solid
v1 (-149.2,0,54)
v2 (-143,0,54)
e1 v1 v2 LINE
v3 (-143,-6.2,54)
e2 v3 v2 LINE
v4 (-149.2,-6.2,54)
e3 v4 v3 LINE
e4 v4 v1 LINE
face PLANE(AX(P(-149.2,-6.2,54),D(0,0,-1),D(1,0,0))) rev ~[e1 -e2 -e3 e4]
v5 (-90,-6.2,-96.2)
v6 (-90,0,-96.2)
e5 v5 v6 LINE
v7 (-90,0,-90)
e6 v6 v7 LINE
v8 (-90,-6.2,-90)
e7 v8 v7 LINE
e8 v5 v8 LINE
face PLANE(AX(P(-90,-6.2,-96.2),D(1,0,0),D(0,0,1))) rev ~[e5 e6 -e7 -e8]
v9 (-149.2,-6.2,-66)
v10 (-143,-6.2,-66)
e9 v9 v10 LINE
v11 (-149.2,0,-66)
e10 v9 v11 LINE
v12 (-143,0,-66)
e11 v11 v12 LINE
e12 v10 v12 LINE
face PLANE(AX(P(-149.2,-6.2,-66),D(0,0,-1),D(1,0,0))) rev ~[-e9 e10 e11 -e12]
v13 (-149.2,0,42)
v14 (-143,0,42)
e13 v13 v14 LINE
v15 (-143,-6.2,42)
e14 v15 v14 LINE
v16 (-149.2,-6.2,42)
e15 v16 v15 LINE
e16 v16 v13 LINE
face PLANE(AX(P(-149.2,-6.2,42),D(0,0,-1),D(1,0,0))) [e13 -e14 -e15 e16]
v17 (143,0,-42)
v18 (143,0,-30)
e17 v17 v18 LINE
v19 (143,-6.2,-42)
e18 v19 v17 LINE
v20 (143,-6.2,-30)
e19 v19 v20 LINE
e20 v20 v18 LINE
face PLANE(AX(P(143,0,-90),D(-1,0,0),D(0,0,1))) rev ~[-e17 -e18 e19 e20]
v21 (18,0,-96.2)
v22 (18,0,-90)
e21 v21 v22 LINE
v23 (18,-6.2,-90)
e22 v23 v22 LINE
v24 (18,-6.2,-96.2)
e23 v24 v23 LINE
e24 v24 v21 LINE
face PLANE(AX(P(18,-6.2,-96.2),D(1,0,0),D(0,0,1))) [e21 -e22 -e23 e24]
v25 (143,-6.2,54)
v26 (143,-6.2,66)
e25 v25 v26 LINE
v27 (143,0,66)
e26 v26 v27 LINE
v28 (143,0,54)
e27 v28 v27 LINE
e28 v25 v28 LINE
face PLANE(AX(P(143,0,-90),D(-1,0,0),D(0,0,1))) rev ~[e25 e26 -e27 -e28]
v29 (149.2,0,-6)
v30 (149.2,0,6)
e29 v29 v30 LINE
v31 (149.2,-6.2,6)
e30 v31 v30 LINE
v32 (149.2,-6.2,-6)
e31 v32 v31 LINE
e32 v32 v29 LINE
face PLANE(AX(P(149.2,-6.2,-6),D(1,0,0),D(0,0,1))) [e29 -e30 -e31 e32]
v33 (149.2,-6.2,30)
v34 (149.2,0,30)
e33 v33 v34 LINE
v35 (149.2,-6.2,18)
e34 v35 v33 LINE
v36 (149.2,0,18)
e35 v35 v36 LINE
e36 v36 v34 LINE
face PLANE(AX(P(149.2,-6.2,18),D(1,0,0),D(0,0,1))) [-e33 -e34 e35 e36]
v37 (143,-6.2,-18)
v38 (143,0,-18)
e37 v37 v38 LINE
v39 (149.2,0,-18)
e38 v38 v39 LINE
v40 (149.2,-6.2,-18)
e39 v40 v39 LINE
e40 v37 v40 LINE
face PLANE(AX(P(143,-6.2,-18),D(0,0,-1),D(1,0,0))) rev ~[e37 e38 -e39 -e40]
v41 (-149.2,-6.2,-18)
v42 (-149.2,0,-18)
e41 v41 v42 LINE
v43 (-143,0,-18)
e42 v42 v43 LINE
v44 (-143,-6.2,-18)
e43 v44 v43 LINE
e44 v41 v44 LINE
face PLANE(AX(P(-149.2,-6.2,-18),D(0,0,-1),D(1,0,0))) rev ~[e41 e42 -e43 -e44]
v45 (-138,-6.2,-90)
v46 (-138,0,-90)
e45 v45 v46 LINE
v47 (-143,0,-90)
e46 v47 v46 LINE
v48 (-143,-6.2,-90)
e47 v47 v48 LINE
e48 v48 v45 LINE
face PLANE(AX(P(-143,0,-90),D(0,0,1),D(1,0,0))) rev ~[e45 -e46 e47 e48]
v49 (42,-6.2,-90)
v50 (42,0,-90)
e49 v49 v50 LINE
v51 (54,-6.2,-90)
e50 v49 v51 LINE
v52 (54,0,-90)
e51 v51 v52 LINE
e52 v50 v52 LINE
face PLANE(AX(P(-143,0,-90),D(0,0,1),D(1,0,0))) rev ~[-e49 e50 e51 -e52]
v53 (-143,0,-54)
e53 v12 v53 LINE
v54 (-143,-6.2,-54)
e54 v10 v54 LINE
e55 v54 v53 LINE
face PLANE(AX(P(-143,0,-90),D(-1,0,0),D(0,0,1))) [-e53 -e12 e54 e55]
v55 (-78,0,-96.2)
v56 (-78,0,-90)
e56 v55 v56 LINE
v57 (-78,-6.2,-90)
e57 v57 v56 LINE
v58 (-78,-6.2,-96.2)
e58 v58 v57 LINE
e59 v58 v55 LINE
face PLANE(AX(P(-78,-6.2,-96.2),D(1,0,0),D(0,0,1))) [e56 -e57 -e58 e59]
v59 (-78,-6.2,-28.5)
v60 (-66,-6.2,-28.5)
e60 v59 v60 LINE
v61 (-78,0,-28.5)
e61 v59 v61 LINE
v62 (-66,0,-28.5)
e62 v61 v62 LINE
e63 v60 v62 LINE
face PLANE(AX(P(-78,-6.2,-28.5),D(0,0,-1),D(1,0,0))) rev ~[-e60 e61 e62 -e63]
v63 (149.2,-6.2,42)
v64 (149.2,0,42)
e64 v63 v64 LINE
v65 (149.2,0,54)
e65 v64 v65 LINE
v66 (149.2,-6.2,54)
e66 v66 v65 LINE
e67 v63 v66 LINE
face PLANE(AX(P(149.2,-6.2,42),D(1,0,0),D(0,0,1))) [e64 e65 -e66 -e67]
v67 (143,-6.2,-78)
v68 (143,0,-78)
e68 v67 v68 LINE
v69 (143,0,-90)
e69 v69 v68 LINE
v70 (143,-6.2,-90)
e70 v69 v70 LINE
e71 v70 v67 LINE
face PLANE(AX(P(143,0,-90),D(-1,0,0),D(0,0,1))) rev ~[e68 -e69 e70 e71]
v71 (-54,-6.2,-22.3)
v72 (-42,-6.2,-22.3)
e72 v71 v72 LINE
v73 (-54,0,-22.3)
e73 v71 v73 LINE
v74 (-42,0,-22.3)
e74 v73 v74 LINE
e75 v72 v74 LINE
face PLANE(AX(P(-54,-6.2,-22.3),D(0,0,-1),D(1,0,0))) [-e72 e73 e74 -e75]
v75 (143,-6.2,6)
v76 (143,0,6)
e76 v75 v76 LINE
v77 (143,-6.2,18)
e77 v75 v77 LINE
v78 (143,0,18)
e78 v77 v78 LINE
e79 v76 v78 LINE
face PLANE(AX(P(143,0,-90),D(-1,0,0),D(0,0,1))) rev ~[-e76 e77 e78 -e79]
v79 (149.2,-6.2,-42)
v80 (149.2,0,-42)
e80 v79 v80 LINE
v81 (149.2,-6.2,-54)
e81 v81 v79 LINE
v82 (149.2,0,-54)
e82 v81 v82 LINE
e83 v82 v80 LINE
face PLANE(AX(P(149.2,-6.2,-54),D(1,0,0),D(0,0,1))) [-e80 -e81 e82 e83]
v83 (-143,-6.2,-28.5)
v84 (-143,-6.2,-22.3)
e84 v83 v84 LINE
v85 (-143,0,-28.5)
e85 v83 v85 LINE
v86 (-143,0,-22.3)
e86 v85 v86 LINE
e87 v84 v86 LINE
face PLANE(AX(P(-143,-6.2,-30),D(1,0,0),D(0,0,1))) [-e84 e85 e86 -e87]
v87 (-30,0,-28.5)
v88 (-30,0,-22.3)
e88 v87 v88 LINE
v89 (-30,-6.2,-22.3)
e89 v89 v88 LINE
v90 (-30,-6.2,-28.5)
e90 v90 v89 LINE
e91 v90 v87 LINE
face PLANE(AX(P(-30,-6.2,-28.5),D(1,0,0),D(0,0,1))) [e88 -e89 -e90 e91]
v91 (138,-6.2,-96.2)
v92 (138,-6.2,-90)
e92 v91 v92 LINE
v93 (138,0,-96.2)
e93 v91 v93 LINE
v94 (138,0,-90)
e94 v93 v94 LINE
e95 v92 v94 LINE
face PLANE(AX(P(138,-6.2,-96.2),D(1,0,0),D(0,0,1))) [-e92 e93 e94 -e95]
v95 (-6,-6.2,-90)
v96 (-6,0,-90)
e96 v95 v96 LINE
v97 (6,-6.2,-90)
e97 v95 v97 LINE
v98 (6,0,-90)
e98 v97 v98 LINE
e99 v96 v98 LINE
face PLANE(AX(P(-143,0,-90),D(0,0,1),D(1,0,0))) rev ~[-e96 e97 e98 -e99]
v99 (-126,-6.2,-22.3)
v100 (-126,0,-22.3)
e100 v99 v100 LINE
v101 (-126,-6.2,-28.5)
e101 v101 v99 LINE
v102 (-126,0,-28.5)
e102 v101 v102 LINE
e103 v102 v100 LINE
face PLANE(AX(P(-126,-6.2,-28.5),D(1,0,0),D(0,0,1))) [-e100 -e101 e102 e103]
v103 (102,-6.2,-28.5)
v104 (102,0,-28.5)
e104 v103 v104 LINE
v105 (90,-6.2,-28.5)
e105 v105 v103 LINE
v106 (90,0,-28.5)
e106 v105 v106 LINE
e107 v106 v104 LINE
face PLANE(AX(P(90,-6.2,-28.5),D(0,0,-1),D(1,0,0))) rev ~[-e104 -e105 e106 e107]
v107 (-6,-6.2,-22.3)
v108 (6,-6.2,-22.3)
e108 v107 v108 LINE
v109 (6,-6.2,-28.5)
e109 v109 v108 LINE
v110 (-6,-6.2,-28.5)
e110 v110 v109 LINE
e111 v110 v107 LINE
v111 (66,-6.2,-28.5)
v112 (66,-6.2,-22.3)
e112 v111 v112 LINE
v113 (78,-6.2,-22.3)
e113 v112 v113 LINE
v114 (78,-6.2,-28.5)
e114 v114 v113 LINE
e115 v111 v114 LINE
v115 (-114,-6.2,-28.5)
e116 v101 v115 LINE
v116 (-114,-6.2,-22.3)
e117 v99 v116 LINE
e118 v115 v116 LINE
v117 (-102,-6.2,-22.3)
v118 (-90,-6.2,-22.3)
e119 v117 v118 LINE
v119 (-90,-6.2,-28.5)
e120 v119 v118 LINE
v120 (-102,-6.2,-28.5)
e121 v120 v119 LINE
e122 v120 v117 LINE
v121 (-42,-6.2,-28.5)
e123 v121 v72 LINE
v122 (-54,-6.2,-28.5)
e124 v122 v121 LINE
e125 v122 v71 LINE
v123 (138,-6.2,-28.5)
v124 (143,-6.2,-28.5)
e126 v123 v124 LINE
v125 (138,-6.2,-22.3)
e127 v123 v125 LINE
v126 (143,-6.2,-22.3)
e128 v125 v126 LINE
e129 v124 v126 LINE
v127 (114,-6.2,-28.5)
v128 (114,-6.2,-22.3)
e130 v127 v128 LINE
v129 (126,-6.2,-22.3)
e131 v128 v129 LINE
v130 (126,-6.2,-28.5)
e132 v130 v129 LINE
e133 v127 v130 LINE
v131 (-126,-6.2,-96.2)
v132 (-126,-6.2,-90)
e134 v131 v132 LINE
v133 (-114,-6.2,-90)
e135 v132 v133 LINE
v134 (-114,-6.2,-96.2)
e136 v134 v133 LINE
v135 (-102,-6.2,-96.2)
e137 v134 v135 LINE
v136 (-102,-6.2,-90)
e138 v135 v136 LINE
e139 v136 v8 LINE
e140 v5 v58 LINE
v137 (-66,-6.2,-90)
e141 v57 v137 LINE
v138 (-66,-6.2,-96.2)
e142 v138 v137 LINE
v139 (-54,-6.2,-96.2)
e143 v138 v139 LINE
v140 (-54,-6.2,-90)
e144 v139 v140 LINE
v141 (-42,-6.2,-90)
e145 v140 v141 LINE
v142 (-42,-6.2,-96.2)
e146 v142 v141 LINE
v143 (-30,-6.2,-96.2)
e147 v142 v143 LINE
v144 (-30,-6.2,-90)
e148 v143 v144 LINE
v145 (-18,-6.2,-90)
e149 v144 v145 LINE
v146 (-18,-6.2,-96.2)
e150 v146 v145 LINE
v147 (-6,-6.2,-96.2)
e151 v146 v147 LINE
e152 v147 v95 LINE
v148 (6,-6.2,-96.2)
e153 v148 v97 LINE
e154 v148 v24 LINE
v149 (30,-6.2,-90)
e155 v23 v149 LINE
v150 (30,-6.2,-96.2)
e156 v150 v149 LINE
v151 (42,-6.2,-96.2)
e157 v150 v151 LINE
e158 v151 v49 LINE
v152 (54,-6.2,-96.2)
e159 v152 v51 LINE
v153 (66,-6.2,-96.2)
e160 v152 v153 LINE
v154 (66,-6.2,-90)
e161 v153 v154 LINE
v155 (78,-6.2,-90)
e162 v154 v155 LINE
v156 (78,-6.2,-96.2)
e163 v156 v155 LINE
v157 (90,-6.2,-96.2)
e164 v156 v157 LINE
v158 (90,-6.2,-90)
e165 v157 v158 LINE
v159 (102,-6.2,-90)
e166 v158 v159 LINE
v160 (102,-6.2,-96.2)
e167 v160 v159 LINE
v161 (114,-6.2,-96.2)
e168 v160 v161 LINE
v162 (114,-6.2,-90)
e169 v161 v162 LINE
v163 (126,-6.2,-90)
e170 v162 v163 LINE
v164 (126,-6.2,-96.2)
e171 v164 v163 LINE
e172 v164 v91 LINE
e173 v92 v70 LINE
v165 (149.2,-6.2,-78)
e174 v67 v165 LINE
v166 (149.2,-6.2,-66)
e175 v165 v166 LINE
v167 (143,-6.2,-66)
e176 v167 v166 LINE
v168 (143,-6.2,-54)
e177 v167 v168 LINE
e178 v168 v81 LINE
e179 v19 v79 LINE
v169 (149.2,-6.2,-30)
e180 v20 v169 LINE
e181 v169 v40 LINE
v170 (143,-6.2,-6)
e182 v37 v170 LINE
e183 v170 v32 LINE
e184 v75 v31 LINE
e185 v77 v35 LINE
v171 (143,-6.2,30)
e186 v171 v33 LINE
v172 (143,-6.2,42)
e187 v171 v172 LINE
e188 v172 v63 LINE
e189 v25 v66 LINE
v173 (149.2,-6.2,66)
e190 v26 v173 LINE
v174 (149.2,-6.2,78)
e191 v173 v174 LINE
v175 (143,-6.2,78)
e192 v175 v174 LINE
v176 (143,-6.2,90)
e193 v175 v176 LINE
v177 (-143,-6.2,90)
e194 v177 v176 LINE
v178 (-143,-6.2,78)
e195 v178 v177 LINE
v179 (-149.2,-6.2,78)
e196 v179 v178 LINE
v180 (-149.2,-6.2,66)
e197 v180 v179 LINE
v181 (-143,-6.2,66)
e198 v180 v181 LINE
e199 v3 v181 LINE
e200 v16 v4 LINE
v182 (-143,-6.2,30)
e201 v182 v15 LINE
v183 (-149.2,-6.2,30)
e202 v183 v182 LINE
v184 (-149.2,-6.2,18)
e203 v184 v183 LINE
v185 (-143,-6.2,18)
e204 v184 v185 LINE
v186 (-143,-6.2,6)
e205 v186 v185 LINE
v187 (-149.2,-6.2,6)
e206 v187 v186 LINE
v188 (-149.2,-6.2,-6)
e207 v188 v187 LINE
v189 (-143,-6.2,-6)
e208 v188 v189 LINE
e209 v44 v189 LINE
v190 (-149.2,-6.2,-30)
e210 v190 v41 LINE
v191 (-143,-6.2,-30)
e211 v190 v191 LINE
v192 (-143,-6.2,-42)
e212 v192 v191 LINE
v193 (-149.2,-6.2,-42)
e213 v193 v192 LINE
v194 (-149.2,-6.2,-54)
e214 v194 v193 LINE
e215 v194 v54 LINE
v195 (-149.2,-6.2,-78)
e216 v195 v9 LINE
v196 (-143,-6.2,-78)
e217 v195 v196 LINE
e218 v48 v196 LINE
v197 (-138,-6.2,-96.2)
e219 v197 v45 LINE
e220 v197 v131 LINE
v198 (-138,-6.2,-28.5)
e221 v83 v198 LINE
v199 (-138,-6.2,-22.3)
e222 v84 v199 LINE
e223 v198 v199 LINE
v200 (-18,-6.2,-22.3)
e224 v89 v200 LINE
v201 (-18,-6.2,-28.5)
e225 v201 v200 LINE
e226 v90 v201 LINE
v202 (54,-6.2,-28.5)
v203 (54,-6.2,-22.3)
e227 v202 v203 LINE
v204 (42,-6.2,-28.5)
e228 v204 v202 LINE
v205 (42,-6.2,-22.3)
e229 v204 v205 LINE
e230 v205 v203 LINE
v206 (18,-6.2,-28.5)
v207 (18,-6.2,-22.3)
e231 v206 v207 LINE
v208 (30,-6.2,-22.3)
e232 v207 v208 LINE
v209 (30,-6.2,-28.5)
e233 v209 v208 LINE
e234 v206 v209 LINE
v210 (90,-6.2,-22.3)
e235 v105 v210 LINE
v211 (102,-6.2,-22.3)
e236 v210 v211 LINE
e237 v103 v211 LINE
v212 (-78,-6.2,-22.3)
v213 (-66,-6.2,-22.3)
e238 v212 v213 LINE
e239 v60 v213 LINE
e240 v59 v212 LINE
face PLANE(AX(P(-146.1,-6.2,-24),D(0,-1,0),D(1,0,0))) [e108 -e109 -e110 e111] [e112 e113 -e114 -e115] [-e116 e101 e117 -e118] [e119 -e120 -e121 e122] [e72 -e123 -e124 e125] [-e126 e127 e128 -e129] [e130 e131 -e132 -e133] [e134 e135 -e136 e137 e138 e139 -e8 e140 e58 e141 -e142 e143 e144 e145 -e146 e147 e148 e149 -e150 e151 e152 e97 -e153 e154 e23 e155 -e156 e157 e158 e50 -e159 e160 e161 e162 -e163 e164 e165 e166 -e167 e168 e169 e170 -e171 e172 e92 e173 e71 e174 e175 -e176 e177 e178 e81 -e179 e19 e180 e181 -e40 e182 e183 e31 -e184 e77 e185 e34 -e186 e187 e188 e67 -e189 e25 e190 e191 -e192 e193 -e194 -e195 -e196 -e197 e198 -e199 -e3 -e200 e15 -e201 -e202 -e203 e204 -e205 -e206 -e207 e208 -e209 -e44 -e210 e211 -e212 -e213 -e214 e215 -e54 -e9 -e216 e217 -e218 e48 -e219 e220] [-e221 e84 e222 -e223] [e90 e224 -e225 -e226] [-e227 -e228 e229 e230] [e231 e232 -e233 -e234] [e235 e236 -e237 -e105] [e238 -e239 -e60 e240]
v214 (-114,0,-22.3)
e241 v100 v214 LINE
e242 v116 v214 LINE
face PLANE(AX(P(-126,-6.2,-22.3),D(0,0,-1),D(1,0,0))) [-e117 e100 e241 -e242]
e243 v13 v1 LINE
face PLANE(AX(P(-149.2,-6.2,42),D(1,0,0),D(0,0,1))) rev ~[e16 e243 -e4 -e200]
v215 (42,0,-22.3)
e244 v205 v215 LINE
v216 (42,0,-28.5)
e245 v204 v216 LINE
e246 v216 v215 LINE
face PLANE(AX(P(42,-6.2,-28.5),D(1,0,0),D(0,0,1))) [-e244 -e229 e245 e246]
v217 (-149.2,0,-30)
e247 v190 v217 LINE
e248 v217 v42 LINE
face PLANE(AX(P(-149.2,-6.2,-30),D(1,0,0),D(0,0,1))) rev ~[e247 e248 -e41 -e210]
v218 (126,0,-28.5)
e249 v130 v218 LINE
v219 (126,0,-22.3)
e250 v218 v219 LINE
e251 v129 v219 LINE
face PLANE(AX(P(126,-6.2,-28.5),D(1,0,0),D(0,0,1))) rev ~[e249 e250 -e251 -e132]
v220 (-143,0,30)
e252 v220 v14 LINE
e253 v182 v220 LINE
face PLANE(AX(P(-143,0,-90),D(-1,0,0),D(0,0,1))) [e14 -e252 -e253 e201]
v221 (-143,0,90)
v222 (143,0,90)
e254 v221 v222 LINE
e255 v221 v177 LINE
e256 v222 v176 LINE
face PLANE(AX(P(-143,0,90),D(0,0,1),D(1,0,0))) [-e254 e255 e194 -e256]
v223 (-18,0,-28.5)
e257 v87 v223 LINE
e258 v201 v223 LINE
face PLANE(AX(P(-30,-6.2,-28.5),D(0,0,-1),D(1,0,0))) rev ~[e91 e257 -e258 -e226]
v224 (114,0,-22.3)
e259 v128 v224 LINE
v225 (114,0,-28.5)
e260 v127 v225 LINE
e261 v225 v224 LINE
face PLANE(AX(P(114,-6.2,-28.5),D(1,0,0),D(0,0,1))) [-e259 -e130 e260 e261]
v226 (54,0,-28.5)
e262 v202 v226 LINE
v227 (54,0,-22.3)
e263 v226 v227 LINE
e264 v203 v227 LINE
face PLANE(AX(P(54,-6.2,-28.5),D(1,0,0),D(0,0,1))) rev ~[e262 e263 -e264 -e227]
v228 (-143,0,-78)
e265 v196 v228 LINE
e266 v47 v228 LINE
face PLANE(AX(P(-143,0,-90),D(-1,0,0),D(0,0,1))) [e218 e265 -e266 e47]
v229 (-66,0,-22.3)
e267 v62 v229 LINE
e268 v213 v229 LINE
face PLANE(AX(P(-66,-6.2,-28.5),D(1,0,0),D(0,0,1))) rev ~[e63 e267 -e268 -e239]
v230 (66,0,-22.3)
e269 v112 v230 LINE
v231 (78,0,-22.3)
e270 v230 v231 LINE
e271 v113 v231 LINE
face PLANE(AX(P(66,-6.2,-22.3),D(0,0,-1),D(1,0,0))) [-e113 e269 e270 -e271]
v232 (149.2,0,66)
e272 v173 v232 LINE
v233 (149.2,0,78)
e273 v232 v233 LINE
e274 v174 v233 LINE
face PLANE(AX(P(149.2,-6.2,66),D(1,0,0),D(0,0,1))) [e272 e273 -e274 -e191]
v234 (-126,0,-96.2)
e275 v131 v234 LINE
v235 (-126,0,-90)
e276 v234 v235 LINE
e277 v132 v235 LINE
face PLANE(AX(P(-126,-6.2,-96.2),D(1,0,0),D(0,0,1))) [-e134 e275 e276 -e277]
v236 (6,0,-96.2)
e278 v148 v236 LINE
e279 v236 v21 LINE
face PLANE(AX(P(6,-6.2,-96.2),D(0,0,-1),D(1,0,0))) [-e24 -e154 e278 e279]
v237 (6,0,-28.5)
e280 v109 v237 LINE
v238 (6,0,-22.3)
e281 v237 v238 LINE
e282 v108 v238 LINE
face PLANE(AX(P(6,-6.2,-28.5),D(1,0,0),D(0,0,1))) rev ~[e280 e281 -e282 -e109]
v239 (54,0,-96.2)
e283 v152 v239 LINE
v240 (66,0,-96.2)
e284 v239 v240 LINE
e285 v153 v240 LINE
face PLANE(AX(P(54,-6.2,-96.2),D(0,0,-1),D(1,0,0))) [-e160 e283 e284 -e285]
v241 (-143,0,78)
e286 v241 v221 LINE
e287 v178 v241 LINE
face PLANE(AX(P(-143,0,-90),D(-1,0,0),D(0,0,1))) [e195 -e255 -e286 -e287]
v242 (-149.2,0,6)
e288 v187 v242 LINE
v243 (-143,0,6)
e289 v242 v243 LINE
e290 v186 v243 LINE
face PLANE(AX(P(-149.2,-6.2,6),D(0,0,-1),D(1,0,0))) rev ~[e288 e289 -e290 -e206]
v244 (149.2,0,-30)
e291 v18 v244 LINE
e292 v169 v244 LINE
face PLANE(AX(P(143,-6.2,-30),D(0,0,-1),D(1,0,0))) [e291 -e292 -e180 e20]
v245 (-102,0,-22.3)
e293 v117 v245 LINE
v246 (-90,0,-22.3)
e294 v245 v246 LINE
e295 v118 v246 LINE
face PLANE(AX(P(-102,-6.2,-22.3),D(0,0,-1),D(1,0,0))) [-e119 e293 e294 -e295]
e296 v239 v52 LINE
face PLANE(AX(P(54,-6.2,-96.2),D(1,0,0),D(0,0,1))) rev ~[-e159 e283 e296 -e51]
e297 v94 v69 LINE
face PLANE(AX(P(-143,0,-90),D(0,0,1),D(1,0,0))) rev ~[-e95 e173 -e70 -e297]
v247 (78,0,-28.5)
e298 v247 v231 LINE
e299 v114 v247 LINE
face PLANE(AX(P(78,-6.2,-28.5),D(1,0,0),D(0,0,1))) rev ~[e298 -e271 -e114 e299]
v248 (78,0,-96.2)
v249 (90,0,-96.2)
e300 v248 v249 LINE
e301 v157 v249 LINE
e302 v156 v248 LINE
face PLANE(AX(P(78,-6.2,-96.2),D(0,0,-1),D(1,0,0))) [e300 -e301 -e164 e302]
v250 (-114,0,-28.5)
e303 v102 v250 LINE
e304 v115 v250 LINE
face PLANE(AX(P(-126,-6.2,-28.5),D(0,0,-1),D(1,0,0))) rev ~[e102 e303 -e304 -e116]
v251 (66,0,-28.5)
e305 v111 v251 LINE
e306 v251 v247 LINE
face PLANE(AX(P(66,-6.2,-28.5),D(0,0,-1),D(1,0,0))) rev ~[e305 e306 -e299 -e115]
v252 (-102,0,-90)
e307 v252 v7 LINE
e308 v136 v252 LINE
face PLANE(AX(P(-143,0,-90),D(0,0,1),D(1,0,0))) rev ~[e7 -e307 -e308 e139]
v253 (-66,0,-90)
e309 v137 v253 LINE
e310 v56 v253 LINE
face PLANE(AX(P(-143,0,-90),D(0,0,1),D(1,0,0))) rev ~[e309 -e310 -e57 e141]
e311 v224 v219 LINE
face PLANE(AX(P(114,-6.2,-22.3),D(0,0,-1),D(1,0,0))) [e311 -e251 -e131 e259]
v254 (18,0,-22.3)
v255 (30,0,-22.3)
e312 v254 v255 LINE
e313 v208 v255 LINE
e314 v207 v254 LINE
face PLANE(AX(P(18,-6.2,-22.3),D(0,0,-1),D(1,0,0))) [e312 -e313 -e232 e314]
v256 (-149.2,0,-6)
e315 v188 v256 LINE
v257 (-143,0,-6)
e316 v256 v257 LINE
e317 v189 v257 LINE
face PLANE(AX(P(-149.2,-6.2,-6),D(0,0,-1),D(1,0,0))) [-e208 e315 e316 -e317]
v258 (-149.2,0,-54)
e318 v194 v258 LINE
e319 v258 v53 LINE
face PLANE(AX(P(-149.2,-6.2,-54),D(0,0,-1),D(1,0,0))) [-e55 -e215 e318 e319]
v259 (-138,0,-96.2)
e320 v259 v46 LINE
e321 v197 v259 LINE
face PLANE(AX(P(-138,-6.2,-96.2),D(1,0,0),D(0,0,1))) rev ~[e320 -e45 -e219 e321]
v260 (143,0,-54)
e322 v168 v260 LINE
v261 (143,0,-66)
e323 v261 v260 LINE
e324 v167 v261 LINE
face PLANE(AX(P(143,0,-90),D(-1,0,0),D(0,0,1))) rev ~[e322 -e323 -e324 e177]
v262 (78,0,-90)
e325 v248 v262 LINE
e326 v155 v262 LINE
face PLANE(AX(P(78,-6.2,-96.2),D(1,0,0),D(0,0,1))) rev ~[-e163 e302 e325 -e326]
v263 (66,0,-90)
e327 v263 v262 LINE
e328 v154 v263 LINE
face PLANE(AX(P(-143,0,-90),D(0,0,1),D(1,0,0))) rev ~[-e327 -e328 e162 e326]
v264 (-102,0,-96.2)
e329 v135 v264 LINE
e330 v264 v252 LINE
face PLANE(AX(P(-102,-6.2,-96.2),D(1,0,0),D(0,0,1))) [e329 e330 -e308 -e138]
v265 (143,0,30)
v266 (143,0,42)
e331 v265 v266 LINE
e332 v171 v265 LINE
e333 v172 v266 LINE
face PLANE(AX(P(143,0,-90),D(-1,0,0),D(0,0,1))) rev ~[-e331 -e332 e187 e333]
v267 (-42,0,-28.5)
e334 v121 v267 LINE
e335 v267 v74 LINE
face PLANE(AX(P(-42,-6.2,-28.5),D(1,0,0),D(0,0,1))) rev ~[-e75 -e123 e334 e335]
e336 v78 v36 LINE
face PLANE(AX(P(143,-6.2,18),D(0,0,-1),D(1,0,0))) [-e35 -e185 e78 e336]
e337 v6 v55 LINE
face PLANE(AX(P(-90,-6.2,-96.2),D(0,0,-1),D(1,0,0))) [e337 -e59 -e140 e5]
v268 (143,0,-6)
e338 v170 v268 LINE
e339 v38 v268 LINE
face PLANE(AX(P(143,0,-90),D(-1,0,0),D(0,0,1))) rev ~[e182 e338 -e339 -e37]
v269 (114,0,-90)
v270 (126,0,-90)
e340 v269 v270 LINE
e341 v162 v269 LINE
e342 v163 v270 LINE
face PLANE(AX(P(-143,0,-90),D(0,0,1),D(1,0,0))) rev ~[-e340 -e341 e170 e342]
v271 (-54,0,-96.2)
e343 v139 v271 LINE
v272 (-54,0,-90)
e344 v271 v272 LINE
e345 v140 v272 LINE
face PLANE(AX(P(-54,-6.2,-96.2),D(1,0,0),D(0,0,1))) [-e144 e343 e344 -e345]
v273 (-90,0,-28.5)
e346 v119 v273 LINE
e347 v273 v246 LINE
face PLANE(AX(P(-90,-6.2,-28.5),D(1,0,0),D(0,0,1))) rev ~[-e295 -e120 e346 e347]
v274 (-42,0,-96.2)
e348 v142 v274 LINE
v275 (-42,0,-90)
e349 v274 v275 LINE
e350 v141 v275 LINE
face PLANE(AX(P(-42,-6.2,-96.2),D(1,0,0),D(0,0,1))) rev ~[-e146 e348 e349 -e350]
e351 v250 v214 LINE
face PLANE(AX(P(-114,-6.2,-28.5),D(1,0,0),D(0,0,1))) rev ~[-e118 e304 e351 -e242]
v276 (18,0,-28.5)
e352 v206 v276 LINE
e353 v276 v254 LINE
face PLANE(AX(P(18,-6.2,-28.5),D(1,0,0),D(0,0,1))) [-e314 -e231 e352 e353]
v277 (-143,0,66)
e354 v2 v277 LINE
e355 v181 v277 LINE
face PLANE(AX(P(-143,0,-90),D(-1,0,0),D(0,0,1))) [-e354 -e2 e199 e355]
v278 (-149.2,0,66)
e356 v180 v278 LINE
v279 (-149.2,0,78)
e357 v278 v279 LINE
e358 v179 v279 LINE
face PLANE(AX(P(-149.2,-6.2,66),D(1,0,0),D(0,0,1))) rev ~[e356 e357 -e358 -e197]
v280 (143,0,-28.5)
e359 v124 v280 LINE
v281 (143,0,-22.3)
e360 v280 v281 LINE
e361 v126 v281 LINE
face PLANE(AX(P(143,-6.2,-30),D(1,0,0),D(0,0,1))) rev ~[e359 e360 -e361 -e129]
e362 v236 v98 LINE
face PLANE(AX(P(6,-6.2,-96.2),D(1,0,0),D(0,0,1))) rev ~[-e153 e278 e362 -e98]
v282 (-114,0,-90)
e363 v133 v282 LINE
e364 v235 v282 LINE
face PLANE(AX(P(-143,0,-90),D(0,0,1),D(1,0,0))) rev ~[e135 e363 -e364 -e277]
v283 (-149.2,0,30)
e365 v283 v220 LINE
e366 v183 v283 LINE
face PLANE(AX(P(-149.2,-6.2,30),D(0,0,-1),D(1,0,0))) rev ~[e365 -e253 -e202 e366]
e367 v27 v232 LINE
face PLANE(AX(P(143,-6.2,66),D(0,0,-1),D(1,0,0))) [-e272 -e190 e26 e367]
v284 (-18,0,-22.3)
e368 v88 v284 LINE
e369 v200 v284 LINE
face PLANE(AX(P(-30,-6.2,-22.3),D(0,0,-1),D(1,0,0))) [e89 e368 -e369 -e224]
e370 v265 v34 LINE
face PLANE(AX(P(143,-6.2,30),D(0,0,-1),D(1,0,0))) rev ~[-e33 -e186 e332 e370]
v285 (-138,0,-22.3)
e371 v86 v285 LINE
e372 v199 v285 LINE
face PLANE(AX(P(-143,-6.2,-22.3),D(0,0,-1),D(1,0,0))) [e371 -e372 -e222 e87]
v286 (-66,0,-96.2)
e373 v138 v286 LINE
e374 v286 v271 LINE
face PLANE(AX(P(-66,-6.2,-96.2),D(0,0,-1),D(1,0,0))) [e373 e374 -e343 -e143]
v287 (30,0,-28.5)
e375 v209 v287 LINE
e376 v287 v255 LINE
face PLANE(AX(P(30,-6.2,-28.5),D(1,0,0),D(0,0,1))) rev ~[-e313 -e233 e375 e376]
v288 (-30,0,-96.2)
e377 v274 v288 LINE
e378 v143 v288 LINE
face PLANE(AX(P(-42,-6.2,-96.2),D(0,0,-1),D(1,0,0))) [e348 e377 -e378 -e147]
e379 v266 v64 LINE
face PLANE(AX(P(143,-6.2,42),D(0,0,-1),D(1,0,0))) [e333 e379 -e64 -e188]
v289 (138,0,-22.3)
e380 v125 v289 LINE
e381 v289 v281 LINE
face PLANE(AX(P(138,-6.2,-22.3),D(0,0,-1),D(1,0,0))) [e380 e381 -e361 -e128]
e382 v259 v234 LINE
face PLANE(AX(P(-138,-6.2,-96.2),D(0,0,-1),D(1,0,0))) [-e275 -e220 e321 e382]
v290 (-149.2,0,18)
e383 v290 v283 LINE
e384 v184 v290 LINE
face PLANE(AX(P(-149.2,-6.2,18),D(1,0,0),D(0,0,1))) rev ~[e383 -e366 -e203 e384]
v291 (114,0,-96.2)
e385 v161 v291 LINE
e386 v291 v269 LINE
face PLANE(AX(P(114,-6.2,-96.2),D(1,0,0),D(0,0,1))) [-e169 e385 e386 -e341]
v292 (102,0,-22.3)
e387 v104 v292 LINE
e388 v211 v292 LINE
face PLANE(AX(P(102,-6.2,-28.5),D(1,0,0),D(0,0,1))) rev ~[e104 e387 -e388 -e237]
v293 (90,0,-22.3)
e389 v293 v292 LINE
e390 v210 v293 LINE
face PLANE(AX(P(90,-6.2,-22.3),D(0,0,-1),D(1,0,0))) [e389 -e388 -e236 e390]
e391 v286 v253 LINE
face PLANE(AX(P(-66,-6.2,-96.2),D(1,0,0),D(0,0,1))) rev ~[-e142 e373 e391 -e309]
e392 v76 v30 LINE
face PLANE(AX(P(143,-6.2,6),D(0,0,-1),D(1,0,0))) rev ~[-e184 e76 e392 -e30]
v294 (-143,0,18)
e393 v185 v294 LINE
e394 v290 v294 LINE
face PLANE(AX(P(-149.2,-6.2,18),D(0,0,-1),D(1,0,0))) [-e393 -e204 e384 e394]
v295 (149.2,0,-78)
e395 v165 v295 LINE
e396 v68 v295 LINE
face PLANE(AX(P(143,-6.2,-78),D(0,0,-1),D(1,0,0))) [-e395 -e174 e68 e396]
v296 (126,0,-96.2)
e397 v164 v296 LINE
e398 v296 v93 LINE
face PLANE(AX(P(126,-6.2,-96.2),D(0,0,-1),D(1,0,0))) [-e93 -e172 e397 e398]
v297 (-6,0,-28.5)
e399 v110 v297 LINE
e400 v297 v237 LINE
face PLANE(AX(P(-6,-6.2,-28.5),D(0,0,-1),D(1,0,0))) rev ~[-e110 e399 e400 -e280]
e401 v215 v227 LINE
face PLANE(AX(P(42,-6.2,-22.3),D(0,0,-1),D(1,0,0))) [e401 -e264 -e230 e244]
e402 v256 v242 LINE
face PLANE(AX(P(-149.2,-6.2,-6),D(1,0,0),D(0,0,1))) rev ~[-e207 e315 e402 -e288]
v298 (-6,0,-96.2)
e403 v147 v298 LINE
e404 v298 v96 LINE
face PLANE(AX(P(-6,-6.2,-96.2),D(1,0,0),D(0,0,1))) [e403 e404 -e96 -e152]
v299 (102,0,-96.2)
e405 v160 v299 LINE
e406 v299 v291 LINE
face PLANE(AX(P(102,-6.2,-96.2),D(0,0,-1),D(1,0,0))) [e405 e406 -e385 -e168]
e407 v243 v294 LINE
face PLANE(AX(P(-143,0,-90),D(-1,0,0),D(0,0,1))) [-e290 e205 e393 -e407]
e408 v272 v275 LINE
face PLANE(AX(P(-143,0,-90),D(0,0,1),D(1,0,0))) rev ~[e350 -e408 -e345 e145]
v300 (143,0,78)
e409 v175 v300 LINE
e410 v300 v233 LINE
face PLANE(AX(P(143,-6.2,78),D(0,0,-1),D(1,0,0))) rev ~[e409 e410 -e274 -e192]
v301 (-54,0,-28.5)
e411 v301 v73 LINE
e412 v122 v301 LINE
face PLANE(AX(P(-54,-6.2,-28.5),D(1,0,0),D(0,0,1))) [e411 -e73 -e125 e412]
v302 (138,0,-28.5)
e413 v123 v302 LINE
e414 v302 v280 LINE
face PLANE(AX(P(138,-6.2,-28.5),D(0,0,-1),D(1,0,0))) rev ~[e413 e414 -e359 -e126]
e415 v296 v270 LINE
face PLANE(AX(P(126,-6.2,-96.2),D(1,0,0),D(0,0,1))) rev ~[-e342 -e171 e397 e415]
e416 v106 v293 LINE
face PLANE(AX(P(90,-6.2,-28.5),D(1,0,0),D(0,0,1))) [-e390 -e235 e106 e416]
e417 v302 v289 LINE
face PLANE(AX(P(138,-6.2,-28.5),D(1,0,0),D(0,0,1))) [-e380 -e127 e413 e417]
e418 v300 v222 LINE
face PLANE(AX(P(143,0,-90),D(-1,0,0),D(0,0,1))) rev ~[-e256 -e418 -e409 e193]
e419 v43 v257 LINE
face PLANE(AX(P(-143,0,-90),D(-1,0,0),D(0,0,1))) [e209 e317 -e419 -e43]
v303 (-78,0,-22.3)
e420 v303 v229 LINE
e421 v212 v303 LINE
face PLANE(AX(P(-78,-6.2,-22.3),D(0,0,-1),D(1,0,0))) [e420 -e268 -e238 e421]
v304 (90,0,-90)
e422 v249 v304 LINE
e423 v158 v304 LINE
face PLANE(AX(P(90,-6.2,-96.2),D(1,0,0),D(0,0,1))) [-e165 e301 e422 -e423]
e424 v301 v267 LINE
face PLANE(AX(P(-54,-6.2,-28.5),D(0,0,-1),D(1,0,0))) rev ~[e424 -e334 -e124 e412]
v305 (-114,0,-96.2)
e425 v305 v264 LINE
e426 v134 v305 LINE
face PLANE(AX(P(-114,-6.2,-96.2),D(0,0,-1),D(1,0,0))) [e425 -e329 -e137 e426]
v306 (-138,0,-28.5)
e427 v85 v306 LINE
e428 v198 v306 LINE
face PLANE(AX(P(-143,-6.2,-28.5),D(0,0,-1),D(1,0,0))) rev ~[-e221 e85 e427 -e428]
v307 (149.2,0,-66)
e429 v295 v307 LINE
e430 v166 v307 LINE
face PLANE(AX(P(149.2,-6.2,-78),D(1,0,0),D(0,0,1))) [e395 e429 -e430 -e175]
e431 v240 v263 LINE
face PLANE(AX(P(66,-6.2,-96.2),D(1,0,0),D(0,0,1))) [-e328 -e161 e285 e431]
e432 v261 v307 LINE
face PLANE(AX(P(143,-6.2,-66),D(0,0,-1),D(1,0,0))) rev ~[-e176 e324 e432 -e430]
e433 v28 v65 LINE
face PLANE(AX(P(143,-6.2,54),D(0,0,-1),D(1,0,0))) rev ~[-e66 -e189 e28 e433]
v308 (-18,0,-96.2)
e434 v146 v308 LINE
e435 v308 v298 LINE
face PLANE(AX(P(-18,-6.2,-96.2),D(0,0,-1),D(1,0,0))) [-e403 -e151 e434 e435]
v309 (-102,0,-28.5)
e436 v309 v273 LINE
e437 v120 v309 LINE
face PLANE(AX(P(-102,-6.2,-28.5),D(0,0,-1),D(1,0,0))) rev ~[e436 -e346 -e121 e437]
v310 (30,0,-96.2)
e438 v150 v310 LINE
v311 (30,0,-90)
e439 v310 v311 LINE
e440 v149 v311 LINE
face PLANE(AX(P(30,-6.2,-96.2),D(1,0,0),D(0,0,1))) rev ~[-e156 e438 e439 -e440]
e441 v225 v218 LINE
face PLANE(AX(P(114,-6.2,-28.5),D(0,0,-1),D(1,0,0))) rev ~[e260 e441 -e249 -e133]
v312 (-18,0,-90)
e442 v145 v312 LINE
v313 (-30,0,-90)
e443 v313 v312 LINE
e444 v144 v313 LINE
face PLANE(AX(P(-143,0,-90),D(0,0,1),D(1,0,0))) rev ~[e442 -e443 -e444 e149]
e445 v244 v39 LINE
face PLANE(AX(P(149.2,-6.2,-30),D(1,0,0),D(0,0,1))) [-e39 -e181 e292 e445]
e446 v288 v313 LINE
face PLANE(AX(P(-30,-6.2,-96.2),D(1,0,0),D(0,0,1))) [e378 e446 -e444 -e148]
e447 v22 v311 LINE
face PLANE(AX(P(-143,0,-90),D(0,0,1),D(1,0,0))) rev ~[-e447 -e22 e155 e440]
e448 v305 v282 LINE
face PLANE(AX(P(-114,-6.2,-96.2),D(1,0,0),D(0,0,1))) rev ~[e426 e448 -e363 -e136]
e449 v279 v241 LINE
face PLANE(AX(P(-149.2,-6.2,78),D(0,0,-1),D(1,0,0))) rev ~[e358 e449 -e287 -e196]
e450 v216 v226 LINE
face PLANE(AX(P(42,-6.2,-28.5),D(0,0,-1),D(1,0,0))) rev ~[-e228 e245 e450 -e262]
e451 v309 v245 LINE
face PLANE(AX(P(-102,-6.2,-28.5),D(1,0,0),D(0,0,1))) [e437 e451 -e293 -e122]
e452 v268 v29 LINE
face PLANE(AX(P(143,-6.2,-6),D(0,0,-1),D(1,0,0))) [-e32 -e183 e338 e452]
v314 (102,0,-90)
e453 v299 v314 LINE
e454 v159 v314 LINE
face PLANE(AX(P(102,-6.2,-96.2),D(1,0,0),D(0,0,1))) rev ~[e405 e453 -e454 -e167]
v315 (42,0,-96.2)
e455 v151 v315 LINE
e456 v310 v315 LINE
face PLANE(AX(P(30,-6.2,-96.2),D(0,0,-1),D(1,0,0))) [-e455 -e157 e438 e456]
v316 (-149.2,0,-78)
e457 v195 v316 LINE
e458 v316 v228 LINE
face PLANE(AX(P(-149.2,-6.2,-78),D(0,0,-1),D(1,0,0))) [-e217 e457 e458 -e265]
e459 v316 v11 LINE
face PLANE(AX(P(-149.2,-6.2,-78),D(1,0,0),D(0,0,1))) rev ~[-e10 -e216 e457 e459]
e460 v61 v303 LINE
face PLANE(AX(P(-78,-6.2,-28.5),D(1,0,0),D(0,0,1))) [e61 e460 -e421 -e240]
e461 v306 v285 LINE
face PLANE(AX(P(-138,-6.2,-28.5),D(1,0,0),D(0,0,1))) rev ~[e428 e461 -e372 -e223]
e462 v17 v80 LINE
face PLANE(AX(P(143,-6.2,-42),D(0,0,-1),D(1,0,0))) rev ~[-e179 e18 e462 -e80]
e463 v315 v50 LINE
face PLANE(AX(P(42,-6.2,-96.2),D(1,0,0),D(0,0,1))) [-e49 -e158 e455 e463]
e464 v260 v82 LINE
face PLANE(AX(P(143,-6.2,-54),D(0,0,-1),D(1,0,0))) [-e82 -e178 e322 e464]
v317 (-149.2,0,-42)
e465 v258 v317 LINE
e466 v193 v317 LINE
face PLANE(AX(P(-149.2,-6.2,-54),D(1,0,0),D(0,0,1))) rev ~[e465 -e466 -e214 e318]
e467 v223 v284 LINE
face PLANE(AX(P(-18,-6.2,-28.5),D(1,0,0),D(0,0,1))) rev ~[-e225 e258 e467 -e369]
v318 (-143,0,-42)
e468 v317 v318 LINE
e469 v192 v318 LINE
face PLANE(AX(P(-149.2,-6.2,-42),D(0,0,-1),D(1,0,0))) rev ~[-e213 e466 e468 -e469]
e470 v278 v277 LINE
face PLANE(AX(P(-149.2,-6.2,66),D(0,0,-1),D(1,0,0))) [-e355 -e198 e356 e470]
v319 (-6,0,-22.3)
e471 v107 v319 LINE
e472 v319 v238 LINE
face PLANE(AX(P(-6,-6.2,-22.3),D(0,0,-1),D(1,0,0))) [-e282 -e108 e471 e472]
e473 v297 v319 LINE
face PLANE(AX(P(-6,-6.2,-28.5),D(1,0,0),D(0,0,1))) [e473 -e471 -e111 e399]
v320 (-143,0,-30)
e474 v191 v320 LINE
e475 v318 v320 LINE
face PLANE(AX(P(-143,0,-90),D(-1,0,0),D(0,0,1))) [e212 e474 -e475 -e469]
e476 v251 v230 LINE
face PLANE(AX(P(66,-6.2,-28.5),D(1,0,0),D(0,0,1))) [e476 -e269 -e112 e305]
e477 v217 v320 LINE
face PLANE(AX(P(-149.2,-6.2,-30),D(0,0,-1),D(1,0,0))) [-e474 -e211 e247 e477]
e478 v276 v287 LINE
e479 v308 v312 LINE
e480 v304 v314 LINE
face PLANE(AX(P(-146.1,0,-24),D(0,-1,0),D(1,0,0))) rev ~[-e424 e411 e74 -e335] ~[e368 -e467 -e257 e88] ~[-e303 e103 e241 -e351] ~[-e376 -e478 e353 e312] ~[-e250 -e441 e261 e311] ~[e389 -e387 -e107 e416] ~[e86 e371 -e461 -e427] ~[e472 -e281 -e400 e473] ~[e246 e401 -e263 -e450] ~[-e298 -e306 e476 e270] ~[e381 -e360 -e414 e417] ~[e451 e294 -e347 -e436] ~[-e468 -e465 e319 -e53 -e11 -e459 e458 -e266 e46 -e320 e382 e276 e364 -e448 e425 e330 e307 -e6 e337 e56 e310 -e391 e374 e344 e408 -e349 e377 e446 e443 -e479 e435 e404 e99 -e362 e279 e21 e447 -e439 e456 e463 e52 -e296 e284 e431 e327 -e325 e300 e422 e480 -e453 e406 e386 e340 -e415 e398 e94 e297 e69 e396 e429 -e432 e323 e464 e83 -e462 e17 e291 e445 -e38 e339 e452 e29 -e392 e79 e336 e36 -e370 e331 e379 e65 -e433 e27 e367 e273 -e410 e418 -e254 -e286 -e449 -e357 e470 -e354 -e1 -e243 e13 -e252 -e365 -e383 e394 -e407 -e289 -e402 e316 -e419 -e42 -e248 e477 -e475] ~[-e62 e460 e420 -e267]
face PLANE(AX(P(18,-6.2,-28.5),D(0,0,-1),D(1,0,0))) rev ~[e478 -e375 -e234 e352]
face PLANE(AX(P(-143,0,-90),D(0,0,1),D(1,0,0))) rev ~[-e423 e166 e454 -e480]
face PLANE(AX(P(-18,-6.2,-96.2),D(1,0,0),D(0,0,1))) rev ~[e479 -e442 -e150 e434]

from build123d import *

# Parameters (mm, degrees)
F0_W     = 286
F0_H     = 180
F1_DEPTH = 6.2
F2_W     = 12
F2_H     = 6.2
F2_W_2   = 5
F3_DEPTH = 6.201
F4_W     = 12
F4_H     = 6.2
F5_DEPTH = 6.2
F6_W     = 6.2
F6_H     = 12
F7_DEPTH = 6.2


with BuildPart() as f1:
    # F0 (on Front) → F1 (new body)
    with BuildSketch(Plane.XZ):
        Rectangle(F0_W, F0_H)
    extrude(amount=F1_DEPTH)

    # F2 (on face) → F3 (cut, through all)
    with BuildSketch(Plane.XZ.offset(6.2)):
        with Locations((-120, -25.4)):
            Rectangle(F2_W, F2_H)
        with Locations((-96, -25.4)):
            Rectangle(F2_W, F2_H)
        with Locations((-72, -25.4)):
            Rectangle(F2_W, F2_H)
        with Locations((-48, -25.4)):
            Rectangle(F2_W, F2_H)
        with Locations((-24, -25.4)):
            Rectangle(F2_W, F2_H)
        with Locations((0, -25.4)):
            Rectangle(F2_W, F2_H)
        with Locations((24, -25.4)):
            Rectangle(F2_W, F2_H)
        with Locations((48, -25.4)):
            Rectangle(F2_W, F2_H)
        with Locations((72, -25.4)):
            Rectangle(F2_W, F2_H)
        with Locations((96, -25.4)):
            Rectangle(F2_W, F2_H)
        with Locations((120, -25.4)):
            Rectangle(F2_W, F2_H)
        with Locations((-140.5, -25.4)):
            Rectangle(F2_W_2, F2_H)
        with Locations((140.5, -25.4)):
            Rectangle(F2_W_2, F2_H)
    extrude(amount=-F3_DEPTH, mode=Mode.SUBTRACT)

    # F4 (on face) → F5 (join, through all)
    with BuildSketch(Plane.XZ.offset(6.2)):
        with Locations((-132, -93.1)):
            Rectangle(F4_W, F4_H)
        with Locations((-108, -93.1)):
            Rectangle(F4_W, F4_H)
        with Locations((-84, -93.1)):
            Rectangle(F4_W, F4_H)
        with Locations((-60, -93.1)):
            Rectangle(F4_W, F4_H)
        with Locations((-36, -93.1)):
            Rectangle(F4_W, F4_H)
        with Locations((-12, -93.1)):
            Rectangle(F4_W, F4_H)
        with Locations((12, -93.1)):
            Rectangle(F4_W, F4_H)
        with Locations((36, -93.1)):
            Rectangle(F4_W, F4_H)
        with Locations((60, -93.1)):
            Rectangle(F4_W, F4_H)
        with Locations((84, -93.1)):
            Rectangle(F4_W, F4_H)
        with Locations((108, -93.1)):
            Rectangle(F4_W, F4_H)
        with Locations((132, -93.1)):
            Rectangle(F4_W, F4_H)
    extrude(amount=-F5_DEPTH)

    # F6 (on face) → F7 (join)
    with BuildSketch(Plane.XZ.offset(6.2)):
        with Locations((-146.1, 0)):
            Rectangle(F6_W, F6_H)
        with Locations((-146.1, 24)):
            Rectangle(F6_W, F6_H)
        with Locations((-146.1, 48)):
            Rectangle(F6_W, F6_H)
        with Locations((-146.1, 72)):
            Rectangle(F6_W, F6_H)
        with Locations((-146.1, -24)):
            Rectangle(F6_W, F6_H)
        with Locations((-146.1, -48)):
            Rectangle(F6_W, F6_H)
        with Locations((-146.1, -72)):
            Rectangle(F6_W, F6_H)
        with Locations((146.1, 0)):
            Rectangle(F6_W, F6_H)
        with Locations((146.1, 24)):
            Rectangle(F6_W, F6_H)
        with Locations((146.1, -24)):
            Rectangle(F6_W, F6_H)
        with Locations((146.1, -72)):
            Rectangle(F6_W, F6_H)
        with Locations((146.1, -48)):
            Rectangle(F6_W, F6_H)
        with Locations((146.1, 72)):
            Rectangle(F6_W, F6_H)
        with Locations((146.1, 48)):
            Rectangle(F6_W, F6_H)
    extrude(amount=-F7_DEPTH)


solid = f1.part
